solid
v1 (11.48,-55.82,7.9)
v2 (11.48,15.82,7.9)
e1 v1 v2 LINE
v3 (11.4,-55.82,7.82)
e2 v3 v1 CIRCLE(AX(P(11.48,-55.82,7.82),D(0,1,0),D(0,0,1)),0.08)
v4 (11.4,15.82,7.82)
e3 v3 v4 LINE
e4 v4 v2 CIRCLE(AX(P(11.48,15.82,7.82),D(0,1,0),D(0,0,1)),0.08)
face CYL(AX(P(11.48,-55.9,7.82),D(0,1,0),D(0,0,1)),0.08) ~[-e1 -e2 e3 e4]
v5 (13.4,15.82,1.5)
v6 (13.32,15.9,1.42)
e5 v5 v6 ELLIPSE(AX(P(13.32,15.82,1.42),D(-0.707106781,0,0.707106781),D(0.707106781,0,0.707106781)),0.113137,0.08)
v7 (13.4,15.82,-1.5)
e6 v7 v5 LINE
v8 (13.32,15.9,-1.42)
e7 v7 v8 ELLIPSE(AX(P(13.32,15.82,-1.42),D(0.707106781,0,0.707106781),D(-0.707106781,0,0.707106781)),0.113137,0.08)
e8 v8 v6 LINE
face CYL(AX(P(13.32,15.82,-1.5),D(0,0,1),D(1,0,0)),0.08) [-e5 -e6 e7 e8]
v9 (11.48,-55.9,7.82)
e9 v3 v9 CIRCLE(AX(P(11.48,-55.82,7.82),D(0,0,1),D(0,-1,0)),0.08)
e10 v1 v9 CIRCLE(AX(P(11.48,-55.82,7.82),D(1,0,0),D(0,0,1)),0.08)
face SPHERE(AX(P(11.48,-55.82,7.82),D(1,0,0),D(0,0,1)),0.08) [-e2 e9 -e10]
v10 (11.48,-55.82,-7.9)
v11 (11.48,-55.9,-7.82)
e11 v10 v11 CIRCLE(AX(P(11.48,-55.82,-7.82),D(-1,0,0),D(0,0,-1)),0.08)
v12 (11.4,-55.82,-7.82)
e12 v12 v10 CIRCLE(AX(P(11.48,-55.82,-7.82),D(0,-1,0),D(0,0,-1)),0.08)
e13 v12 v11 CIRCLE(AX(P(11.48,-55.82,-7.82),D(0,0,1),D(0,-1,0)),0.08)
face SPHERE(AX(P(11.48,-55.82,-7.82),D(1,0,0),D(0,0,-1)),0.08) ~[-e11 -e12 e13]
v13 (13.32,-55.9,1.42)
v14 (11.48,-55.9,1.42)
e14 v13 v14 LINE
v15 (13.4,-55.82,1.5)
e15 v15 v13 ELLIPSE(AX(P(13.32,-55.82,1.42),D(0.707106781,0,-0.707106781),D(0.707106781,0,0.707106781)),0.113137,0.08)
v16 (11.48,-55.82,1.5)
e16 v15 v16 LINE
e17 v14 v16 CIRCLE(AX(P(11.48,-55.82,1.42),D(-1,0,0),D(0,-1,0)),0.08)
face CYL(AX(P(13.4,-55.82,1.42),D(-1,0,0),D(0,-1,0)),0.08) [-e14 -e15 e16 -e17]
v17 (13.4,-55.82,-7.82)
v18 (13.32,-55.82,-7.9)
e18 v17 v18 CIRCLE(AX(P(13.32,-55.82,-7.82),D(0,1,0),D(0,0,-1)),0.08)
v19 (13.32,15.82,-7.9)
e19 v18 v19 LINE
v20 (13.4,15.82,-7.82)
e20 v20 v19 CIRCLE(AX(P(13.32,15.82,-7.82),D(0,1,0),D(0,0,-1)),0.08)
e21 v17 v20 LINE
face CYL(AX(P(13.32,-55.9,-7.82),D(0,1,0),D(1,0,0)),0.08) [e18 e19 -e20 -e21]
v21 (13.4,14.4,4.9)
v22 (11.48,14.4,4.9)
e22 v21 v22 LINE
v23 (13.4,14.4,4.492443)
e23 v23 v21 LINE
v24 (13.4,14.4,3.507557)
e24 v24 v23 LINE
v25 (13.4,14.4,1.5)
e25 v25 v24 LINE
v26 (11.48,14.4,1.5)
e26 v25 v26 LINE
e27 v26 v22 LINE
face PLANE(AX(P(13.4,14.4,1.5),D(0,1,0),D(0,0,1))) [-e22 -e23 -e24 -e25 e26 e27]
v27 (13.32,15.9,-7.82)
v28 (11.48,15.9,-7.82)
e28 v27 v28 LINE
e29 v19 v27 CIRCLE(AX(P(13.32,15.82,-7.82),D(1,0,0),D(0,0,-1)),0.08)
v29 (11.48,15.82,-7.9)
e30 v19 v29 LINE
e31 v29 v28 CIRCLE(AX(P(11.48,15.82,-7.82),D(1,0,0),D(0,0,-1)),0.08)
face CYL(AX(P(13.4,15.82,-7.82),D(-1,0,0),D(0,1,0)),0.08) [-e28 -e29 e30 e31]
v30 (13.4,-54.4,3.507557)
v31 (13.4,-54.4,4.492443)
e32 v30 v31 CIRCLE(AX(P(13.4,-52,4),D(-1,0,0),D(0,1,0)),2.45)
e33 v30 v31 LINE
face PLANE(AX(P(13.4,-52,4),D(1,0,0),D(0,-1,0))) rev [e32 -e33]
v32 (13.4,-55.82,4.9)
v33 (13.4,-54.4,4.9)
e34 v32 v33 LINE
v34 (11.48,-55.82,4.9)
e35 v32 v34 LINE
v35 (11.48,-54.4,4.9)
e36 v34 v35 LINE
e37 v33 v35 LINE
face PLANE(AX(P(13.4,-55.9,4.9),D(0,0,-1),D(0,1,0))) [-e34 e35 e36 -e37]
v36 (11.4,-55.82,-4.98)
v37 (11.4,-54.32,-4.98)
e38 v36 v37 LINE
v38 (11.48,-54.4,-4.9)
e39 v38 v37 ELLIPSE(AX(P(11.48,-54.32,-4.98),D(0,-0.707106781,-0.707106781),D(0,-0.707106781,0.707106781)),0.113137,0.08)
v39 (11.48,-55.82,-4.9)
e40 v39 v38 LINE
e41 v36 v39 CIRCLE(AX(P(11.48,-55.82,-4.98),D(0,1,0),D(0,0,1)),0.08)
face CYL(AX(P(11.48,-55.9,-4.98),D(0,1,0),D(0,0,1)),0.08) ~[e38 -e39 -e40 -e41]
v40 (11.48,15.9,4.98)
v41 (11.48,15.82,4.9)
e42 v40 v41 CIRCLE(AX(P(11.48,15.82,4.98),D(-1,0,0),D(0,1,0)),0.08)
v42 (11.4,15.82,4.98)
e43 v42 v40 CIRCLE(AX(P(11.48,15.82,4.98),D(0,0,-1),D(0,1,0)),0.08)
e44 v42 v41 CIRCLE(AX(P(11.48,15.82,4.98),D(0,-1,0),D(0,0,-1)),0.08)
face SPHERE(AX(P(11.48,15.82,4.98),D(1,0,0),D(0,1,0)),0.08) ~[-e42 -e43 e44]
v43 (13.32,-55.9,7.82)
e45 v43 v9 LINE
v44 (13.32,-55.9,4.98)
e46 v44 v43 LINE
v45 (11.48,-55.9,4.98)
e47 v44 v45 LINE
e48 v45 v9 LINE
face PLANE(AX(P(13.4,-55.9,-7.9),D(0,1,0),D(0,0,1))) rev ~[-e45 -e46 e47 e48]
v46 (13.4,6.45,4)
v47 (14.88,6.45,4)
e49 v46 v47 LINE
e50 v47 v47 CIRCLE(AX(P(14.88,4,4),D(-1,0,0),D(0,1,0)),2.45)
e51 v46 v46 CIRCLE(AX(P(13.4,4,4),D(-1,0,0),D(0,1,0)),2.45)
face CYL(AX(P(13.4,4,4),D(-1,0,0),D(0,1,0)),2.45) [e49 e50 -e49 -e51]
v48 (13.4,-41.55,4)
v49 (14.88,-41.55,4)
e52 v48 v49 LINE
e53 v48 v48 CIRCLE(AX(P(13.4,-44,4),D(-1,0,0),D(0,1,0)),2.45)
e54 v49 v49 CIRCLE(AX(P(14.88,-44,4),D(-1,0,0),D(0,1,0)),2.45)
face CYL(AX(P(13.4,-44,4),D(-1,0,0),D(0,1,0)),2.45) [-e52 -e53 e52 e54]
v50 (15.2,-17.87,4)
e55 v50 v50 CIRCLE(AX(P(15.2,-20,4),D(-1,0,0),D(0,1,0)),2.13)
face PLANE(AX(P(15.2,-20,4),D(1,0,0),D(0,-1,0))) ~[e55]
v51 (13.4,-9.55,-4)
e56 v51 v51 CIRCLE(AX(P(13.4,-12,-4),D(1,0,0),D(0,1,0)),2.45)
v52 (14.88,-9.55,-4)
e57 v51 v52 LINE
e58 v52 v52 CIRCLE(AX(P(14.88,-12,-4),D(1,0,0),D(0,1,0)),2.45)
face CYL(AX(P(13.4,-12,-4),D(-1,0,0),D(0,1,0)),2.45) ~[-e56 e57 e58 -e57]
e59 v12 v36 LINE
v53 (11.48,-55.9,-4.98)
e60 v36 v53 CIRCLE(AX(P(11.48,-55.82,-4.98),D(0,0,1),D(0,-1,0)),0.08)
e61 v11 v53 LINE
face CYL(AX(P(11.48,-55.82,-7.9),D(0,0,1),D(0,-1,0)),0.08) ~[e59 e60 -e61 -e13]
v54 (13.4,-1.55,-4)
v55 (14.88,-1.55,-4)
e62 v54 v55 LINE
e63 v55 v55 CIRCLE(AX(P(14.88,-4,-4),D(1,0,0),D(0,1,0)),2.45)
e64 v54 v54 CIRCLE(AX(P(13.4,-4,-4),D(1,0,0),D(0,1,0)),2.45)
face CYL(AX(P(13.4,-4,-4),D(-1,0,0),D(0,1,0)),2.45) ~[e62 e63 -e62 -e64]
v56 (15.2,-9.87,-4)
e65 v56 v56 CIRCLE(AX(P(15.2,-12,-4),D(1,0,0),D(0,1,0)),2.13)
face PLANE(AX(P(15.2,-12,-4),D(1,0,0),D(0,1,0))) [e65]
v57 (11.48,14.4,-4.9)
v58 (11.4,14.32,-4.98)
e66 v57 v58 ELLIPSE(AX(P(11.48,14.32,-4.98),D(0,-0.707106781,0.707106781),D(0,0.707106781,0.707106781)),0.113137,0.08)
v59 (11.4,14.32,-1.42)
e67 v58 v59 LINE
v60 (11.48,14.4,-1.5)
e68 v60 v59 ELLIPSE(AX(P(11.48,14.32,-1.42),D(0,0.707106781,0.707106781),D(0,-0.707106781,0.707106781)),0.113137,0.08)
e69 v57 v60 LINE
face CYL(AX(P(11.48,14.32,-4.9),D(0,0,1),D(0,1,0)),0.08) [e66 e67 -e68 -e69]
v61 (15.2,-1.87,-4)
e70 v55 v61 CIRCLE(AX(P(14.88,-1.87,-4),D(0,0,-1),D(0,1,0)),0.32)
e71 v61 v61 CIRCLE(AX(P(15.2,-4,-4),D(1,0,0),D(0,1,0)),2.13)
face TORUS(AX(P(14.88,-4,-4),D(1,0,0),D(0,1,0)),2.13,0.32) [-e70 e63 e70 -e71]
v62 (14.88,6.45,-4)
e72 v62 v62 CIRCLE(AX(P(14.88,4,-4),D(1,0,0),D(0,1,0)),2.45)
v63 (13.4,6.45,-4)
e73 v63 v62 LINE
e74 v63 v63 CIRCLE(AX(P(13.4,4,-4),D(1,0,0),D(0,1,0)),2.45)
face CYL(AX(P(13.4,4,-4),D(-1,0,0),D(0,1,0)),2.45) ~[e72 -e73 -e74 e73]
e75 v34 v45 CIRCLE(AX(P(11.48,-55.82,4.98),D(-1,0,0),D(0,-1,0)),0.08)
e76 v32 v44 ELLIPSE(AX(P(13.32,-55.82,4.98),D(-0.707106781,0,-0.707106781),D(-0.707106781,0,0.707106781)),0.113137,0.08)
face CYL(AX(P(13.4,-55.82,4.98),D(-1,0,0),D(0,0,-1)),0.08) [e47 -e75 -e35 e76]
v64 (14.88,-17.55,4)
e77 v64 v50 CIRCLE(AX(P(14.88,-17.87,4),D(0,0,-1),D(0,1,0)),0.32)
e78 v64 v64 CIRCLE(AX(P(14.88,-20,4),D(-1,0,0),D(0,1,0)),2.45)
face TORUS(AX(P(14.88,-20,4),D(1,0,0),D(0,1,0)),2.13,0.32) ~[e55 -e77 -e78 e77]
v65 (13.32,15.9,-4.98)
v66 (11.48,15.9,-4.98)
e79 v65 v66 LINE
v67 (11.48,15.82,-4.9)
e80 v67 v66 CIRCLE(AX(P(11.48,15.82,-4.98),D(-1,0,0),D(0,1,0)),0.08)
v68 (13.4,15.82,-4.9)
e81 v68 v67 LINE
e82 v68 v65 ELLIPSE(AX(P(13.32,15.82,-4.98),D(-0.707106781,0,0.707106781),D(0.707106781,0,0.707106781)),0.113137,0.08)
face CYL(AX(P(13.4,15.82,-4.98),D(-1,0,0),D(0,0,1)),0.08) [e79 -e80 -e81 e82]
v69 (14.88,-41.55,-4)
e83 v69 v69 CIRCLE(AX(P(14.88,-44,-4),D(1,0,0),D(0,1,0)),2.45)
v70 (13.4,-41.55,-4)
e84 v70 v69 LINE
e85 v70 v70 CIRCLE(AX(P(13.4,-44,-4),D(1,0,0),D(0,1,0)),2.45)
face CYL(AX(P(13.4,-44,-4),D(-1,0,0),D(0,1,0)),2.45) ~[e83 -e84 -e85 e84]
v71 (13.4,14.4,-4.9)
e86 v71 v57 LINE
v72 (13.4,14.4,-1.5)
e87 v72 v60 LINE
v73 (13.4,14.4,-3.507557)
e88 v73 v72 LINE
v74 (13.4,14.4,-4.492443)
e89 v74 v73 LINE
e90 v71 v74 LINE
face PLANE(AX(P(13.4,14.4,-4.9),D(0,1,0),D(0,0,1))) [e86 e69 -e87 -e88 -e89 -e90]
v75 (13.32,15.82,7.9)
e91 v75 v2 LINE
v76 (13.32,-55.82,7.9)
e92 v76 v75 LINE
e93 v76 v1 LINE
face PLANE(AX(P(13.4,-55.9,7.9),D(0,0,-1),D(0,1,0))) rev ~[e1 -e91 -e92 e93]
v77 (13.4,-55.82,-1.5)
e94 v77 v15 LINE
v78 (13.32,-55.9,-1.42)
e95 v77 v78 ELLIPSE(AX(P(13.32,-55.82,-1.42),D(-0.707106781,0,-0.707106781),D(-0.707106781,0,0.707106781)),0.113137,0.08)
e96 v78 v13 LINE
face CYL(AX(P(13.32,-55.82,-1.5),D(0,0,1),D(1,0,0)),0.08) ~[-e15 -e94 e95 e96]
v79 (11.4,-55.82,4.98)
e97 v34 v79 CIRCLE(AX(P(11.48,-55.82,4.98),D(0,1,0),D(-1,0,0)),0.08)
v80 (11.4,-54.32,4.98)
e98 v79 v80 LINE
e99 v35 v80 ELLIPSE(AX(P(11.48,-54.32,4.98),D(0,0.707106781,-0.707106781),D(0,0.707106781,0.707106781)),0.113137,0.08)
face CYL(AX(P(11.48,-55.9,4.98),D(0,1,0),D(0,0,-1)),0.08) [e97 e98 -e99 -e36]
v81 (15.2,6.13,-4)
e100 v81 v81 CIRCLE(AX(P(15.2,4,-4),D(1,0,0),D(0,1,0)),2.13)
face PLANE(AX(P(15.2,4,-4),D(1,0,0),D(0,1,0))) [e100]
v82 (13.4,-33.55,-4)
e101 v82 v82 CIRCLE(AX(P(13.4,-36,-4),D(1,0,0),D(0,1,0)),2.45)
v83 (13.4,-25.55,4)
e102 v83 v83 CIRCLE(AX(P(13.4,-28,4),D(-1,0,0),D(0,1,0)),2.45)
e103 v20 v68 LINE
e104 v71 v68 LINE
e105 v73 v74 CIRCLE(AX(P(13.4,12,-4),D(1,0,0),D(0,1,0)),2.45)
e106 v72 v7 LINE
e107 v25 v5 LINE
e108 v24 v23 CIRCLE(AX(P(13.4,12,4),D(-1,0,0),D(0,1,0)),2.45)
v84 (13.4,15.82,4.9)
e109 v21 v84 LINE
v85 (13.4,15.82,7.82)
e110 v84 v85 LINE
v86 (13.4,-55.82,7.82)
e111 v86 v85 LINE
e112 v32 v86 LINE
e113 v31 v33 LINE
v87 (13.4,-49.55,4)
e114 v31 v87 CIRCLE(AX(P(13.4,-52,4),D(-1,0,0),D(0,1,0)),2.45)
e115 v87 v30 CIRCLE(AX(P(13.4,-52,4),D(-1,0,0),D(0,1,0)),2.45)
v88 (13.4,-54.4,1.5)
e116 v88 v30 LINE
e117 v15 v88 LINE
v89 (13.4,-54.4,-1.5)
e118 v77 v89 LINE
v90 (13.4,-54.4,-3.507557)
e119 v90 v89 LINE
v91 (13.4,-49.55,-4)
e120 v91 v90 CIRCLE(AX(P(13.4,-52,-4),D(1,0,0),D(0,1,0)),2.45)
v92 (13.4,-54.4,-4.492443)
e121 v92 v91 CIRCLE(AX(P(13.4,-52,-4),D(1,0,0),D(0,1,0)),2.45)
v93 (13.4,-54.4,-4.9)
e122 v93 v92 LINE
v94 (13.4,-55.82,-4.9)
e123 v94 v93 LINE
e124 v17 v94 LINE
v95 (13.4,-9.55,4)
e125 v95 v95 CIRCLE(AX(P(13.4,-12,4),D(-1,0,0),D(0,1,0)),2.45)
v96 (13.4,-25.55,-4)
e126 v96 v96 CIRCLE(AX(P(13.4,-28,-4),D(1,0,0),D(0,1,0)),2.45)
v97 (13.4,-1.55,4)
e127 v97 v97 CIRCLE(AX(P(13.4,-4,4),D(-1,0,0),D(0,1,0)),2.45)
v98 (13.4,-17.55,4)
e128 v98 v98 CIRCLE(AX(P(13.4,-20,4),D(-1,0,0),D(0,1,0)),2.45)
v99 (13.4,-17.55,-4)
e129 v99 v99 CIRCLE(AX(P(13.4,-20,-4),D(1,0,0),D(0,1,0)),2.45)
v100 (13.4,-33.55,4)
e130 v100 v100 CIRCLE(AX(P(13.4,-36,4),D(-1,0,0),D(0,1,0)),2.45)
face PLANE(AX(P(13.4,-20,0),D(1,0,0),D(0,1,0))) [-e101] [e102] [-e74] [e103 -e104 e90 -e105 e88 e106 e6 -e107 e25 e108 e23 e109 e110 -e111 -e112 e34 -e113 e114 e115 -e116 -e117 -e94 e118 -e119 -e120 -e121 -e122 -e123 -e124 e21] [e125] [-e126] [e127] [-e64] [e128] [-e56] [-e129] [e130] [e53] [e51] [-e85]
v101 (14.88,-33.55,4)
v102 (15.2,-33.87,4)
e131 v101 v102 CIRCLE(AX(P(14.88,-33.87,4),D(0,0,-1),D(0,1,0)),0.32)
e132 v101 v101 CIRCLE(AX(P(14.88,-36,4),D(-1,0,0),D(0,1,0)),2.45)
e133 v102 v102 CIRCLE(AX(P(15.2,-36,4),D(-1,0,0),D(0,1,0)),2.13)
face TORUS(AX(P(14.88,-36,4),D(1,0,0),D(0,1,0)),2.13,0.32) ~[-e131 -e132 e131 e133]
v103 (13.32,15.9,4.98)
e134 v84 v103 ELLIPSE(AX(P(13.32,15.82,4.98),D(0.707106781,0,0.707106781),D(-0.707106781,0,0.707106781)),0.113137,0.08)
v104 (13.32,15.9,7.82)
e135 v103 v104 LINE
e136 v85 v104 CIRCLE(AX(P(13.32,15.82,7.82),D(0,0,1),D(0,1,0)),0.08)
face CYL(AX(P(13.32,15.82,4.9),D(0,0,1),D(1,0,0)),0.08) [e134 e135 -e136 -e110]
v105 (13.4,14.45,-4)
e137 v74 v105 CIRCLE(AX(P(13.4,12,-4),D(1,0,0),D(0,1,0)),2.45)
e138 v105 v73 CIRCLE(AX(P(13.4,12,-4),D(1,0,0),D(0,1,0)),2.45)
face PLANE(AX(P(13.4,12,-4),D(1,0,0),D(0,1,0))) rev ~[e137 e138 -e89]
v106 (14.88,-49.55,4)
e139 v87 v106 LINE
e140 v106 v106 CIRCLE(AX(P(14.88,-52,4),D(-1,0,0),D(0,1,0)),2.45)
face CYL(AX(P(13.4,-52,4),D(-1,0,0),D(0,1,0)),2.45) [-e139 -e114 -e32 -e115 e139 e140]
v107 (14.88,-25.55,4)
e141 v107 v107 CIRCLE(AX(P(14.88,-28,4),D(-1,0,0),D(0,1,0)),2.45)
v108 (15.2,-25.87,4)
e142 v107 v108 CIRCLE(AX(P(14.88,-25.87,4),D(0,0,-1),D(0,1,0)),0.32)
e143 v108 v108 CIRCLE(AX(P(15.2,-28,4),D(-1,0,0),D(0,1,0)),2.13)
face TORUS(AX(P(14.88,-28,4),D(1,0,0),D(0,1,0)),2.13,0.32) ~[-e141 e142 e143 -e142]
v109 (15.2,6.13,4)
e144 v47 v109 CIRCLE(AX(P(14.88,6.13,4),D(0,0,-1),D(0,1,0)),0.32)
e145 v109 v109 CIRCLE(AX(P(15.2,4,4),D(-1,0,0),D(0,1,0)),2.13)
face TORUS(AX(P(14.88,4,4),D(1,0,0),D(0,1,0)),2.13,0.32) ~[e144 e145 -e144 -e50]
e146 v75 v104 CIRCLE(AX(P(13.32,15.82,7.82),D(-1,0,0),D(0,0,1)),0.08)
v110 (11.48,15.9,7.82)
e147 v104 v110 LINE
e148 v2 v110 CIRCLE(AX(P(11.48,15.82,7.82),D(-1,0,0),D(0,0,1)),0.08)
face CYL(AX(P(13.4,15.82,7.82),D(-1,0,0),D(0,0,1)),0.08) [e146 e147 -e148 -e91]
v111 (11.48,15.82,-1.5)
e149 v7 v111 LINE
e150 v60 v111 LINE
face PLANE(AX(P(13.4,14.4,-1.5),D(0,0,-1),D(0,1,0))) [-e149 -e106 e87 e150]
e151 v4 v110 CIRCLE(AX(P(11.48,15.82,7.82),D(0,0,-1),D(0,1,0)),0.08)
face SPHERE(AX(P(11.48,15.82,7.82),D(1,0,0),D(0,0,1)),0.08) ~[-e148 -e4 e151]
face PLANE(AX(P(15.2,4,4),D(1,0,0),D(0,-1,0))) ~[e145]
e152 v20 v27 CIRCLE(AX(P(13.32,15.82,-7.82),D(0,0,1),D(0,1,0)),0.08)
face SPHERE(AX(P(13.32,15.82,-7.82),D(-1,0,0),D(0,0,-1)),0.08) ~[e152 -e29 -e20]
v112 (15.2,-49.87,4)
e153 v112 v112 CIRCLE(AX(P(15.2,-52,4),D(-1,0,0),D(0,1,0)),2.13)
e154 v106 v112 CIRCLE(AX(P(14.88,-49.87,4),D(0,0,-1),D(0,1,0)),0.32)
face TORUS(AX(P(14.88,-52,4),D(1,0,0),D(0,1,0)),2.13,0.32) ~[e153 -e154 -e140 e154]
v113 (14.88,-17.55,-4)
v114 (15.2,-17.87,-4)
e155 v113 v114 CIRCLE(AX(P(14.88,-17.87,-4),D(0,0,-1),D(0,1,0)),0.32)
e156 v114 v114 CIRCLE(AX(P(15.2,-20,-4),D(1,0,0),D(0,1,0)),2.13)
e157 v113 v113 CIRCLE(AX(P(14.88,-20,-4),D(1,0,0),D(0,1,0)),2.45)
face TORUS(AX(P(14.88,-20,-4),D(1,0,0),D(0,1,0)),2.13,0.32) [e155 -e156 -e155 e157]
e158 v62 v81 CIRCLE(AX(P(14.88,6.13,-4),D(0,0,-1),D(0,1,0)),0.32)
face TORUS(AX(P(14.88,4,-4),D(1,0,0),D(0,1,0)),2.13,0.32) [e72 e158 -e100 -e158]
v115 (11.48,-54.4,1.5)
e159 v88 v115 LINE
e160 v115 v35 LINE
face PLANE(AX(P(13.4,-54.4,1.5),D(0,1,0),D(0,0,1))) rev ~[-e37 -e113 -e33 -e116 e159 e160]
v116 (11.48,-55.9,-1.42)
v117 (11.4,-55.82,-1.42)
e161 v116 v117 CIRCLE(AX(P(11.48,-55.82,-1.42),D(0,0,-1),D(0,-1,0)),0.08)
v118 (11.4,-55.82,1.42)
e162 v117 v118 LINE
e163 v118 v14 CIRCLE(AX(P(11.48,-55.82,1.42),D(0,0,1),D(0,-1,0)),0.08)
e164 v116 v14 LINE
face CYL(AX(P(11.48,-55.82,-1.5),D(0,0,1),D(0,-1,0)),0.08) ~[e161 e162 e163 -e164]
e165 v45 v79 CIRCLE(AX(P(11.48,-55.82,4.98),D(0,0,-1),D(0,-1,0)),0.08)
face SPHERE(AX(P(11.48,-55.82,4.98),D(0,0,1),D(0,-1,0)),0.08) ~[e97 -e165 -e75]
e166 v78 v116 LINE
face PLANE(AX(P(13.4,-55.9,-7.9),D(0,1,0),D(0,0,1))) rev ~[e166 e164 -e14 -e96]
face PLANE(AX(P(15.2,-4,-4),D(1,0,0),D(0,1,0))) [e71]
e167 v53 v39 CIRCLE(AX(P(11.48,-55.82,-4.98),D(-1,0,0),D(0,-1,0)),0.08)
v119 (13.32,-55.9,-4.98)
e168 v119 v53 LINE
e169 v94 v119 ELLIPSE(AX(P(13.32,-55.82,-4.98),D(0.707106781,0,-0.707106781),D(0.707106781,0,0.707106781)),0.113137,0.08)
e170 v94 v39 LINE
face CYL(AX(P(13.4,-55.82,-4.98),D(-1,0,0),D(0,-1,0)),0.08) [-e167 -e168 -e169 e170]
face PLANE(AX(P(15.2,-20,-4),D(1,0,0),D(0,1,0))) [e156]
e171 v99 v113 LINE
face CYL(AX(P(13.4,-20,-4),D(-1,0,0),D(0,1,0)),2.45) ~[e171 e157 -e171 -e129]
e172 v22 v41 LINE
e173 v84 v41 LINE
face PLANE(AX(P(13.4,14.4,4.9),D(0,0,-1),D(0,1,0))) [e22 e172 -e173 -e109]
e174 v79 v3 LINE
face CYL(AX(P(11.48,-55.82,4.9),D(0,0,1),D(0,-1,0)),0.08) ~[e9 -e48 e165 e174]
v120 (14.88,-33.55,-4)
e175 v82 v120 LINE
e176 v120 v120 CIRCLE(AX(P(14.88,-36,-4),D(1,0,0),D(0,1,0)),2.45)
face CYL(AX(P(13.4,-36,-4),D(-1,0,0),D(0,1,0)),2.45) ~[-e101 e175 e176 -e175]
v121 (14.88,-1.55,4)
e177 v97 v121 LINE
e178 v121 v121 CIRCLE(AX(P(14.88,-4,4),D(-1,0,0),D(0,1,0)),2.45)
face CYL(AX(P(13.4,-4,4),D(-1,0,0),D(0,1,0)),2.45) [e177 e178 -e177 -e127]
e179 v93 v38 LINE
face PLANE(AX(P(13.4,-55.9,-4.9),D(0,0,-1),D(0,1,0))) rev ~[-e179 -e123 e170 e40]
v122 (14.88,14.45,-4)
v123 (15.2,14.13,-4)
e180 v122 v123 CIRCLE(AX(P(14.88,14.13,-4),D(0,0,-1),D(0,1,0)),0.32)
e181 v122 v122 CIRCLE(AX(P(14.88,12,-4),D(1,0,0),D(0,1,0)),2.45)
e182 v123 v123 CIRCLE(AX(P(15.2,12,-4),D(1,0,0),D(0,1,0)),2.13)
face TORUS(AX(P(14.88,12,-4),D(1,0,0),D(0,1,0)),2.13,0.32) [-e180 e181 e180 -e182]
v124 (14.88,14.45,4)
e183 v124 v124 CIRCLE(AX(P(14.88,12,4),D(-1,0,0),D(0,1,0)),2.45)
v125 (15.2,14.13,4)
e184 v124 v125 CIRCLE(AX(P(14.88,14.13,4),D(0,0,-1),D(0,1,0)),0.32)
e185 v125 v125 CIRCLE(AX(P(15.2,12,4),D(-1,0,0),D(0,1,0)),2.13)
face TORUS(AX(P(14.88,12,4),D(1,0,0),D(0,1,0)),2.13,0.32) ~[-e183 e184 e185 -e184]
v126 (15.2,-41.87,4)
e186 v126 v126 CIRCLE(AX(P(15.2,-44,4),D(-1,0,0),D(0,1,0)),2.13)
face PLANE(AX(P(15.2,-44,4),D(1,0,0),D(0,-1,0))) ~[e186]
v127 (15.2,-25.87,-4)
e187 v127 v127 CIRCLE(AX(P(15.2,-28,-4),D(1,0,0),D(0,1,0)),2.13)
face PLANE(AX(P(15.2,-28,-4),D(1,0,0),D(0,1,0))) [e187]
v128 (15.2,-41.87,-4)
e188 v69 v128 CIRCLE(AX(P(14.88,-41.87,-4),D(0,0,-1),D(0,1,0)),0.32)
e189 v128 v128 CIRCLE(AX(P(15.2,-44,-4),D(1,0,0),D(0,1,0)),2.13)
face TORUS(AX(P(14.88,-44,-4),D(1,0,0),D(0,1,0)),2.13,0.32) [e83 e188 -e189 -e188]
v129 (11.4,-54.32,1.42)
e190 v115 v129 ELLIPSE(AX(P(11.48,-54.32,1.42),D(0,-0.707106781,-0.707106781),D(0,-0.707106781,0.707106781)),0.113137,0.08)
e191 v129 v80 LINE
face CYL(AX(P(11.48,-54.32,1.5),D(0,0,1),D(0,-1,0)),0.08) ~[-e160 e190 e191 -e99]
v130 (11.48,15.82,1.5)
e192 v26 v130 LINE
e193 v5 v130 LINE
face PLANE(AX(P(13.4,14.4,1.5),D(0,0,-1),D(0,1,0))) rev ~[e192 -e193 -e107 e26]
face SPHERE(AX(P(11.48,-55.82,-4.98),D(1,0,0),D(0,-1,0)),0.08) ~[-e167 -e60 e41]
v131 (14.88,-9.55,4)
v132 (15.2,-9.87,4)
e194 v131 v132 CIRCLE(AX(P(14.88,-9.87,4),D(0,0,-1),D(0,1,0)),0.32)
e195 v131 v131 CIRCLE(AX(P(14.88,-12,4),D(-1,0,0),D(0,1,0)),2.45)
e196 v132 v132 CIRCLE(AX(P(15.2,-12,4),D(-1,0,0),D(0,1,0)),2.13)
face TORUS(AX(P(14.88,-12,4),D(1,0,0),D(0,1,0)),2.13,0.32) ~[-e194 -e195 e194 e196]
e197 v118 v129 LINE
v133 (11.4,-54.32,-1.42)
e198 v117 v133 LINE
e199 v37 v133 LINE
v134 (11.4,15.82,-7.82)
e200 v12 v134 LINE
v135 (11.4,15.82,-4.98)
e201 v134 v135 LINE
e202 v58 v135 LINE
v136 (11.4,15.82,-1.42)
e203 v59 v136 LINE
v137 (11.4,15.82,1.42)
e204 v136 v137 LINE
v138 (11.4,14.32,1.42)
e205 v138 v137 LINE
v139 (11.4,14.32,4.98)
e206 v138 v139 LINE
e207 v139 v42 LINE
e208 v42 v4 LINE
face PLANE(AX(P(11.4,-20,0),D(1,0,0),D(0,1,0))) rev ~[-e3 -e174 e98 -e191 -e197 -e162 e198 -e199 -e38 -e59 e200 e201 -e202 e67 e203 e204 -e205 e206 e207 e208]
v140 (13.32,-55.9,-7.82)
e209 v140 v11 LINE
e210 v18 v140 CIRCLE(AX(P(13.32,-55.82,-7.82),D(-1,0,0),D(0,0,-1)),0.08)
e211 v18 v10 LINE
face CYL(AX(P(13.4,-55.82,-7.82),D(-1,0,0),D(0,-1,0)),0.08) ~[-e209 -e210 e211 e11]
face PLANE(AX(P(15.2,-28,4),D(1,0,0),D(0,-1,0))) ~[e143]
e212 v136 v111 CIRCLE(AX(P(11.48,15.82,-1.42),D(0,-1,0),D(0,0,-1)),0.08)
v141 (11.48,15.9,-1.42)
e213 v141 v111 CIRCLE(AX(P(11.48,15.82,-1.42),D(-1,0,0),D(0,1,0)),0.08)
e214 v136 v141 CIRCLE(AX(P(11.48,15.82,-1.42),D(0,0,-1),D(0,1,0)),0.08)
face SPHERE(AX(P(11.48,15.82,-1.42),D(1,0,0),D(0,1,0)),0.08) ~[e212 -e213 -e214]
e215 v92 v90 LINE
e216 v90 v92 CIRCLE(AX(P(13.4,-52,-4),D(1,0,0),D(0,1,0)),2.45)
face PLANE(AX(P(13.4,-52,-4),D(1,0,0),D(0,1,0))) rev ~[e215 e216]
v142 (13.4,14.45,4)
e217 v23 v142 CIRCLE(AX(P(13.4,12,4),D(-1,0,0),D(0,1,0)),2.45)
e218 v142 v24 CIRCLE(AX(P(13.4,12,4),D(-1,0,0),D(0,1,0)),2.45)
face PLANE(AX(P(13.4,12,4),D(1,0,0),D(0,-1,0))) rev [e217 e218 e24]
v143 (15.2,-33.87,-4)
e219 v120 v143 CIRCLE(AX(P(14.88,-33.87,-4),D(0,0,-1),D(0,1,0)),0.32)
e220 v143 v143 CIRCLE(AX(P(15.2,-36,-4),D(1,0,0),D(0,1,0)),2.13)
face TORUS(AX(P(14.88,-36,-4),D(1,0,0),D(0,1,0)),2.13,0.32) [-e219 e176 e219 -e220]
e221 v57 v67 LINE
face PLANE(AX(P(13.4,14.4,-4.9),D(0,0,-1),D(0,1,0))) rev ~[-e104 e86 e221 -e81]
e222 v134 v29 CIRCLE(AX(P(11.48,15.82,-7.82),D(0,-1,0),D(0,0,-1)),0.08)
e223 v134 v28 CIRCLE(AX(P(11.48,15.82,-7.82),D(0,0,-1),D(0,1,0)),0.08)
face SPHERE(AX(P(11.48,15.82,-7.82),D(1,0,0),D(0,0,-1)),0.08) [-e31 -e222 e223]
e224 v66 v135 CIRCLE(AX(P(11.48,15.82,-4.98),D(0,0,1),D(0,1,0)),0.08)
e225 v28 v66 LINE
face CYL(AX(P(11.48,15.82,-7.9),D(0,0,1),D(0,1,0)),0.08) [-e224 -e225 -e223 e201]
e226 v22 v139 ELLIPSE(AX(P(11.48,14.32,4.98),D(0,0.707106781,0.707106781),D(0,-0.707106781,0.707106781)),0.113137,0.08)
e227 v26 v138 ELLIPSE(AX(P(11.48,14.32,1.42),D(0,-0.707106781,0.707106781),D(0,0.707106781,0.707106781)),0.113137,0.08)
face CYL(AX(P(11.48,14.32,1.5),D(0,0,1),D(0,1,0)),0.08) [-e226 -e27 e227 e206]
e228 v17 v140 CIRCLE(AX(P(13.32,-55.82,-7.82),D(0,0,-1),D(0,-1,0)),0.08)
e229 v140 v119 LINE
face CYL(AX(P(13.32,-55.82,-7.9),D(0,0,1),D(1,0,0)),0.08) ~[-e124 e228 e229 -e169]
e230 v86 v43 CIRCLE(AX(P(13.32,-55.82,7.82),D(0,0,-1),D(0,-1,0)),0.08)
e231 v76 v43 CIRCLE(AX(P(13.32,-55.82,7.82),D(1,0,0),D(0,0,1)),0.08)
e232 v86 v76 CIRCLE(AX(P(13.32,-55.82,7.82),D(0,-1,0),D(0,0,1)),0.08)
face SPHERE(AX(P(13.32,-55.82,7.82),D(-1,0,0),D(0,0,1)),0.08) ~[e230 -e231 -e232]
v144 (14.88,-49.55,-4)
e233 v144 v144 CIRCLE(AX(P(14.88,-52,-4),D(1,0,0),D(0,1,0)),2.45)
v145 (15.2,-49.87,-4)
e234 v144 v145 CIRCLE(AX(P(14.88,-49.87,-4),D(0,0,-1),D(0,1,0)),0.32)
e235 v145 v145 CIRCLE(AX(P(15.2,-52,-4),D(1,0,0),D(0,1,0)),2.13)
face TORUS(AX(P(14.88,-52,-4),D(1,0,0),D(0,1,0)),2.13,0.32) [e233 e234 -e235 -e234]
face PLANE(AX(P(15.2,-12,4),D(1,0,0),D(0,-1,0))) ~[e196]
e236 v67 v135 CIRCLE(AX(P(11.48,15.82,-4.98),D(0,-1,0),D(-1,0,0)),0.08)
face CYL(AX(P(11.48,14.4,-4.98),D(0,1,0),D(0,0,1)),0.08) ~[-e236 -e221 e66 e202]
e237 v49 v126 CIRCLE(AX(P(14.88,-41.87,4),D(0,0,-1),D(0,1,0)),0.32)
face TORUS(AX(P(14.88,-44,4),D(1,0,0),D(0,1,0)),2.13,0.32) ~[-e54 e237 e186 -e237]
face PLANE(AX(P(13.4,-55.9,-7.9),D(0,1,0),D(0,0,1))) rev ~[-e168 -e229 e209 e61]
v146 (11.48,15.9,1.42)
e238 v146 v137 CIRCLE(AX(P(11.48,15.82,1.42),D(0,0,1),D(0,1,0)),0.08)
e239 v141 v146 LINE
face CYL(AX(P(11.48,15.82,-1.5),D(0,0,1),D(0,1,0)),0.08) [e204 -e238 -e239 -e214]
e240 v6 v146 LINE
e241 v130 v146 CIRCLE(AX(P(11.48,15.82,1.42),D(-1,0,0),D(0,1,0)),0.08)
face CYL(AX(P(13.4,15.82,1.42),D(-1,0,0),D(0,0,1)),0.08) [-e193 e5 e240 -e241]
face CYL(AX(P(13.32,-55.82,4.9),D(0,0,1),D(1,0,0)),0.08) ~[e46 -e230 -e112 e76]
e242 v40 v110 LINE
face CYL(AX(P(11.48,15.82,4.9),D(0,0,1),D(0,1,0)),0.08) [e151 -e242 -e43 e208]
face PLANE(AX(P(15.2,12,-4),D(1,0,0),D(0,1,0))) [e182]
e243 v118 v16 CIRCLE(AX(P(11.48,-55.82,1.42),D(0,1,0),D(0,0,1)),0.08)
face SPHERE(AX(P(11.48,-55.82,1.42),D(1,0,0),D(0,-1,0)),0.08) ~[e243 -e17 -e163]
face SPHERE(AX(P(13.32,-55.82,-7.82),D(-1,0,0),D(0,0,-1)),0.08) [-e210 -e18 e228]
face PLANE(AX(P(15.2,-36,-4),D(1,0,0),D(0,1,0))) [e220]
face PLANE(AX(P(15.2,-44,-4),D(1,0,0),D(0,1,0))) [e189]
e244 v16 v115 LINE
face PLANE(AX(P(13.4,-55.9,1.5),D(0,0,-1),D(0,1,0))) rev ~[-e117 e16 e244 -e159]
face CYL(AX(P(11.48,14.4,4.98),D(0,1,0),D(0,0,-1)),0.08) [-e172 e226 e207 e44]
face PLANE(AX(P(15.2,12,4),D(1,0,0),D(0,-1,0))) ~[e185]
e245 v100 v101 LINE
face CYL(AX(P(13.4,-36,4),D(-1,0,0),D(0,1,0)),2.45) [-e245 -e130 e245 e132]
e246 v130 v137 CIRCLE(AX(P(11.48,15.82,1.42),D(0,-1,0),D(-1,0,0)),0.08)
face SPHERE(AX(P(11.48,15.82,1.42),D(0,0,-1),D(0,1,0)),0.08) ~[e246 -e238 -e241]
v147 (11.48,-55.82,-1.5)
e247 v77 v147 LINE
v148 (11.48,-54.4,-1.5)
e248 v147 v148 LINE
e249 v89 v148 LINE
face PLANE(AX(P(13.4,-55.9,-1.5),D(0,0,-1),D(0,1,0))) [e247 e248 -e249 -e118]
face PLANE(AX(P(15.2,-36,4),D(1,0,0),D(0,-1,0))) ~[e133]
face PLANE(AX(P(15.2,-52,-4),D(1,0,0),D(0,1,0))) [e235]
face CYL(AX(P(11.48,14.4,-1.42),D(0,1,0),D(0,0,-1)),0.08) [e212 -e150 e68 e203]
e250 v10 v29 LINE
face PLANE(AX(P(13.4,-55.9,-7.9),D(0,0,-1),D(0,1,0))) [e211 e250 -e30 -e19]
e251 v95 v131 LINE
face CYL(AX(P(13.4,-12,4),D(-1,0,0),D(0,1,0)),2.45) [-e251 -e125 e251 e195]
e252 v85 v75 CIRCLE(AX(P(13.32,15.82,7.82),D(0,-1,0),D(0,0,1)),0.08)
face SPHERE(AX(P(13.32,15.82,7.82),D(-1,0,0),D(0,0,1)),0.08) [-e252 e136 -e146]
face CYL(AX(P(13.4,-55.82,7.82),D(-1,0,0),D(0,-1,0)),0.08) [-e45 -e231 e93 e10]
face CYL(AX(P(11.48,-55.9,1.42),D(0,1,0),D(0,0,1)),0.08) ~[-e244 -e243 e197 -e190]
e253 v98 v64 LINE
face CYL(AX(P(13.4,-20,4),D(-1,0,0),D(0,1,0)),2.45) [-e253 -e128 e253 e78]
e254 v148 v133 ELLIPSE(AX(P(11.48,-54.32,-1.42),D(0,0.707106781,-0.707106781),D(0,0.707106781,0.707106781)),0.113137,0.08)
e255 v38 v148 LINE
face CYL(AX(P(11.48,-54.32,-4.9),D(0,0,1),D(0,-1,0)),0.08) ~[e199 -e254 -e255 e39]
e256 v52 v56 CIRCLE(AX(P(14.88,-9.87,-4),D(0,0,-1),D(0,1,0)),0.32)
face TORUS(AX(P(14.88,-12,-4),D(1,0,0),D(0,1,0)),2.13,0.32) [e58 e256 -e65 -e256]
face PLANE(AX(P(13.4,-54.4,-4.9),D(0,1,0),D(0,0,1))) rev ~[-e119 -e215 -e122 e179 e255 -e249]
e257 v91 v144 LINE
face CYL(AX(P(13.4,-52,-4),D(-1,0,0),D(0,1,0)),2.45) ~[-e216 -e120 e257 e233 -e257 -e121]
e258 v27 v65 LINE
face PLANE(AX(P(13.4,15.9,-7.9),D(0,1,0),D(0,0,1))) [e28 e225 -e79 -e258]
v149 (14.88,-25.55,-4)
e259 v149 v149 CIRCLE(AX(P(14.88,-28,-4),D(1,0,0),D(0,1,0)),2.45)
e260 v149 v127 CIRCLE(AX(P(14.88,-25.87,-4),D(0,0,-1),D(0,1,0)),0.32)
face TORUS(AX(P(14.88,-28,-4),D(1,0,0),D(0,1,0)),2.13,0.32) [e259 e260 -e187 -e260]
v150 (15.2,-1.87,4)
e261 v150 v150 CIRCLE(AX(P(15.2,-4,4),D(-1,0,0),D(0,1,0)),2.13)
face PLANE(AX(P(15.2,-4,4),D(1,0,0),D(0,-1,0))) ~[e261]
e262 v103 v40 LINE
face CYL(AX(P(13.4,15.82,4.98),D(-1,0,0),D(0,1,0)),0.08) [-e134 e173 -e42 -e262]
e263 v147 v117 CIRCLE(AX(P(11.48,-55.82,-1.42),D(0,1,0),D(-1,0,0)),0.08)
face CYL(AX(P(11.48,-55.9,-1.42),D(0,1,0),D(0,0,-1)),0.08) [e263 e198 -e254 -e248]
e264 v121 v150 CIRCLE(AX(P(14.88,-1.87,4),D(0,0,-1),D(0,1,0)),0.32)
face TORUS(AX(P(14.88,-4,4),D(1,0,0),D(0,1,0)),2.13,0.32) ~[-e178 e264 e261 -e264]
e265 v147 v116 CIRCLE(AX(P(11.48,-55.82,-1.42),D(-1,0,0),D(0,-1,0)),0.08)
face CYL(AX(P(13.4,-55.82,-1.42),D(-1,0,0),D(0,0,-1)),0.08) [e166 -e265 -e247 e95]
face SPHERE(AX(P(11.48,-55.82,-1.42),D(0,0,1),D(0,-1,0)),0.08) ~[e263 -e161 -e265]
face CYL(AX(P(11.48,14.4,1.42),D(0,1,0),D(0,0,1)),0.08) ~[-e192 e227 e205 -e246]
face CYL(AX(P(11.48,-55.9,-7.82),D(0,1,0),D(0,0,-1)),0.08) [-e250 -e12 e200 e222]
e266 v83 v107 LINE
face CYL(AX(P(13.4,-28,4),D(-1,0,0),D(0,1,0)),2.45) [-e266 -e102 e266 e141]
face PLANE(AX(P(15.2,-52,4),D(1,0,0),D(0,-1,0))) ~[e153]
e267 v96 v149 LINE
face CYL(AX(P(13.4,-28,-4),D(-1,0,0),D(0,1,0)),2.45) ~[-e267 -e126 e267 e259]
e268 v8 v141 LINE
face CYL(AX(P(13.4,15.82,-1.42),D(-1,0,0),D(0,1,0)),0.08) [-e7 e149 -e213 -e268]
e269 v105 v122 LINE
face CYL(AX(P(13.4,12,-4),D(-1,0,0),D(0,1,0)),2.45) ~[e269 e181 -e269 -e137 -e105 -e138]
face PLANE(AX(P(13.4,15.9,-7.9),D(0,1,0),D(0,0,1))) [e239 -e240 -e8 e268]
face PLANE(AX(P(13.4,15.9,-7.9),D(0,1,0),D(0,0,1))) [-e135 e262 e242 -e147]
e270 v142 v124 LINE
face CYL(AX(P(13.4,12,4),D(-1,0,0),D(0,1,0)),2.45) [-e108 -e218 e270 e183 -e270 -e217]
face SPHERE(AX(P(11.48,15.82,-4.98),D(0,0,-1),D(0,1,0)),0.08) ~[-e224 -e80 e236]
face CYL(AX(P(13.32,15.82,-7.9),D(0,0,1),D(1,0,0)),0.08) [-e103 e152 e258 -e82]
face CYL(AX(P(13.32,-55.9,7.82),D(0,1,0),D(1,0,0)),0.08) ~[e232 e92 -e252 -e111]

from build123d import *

# Parameters (mm, degrees)
SKETCH001_W                     = 71.8
SKETCH001_H                     = 15.8
PAD001_DEPTH                    = 2
SKETCH002_W                     = 1.5
SKETCH002_H                     = 3.4
POCKET_DEPTH                    = 5
LINEARPATTERN001_COUNT          = 2
LINEARPATTERN001_PITCH          = 70.3
SKETCH003_R                     = 2.45
PAD002_DEPTH                    = 1.8
SKETCH003_LINEARPATTERN002_2_R  = 2.45
PAD002_LINEARPATTERN002_2_DEPTH = 1.8
SKETCH003_LINEARPATTERN002_3_R  = 2.45
PAD002_LINEARPATTERN002_3_DEPTH = 1.8
SKETCH003_LINEARPATTERN002_4_R  = 2.45
PAD002_LINEARPATTERN002_4_DEPTH = 1.8
SKETCH003_LINEARPATTERN002_5_R  = 2.45
PAD002_LINEARPATTERN002_5_DEPTH = 1.8
SKETCH003_LINEARPATTERN002_6_R  = 2.45
PAD002_LINEARPATTERN002_6_DEPTH = 1.8
SKETCH003_LINEARPATTERN002_7_R  = 2.45
PAD002_LINEARPATTERN002_7_DEPTH = 1.8
SKETCH003_LINEARPATTERN002_8_R  = 2.45
PAD002_LINEARPATTERN002_8_DEPTH = 1.8
SKETCH003_LINEARPATTERN002_9_R  = 2.45
PAD002_LINEARPATTERN002_9_DEPTH = 1.8
FILLET_R                        = 0.32
FILLET008_R                     = 0.08


with BuildPart() as part:
    # Sketch001 → Pad001 (new body)
    with BuildSketch(Plane.YZ):
        with Locations((-20, 0)):
            Rectangle(SKETCH001_W, SKETCH001_H)
    extrude(amount=-PAD001_DEPTH)

    # Sketch002 (on Face5 of Pad001) → Pocket (cut)
    with BuildSketch(Plane.YZ):
        with Locations((15.15, 3.2)):
            Rectangle(SKETCH002_W, SKETCH002_H)
        with Locations((15.15, -3.2)):
            Rectangle(SKETCH002_W, SKETCH002_H)
    pocket = extrude(amount=-POCKET_DEPTH, mode=Mode.SUBTRACT)

    # LinearPattern001: Pocket ×2
    with Locations(*[(0, -i * LINEARPATTERN001_PITCH, 0) for i in range(1, LINEARPATTERN001_COUNT)]):
        add(pocket, mode=Mode.SUBTRACT)

    # Sketch003 (on Face4 of LinearPattern001) → Pad002 (join)
    with BuildSketch(Plane.YZ):
        with Locations((12, -4)):
            Circle(SKETCH003_R)
    pad002 = extrude(amount=PAD002_DEPTH)

    # Sketch003 LinearPattern002 2 → Pad002 LinearPattern002 2 (add)
    with BuildSketch(Plane(origin=(0, -8, 0), x_dir=(0, 1, 0), z_dir=(1, 0, 0))):
        with Locations((12, -4)):
            Circle(SKETCH003_LINEARPATTERN002_2_R)
    pad002_linearpattern002_2 = extrude(amount=PAD002_LINEARPATTERN002_2_DEPTH)

    # Sketch003 LinearPattern002 3 → Pad002 LinearPattern002 3 (add)
    with BuildSketch(Plane(origin=(0, -16, 0), x_dir=(0, 1, 0), z_dir=(1, 0, 0))):
        with Locations((12, -4)):
            Circle(SKETCH003_LINEARPATTERN002_3_R)
    pad002_linearpattern002_3 = extrude(amount=PAD002_LINEARPATTERN002_3_DEPTH)

    # Sketch003 LinearPattern002 4 → Pad002 LinearPattern002 4 (add)
    with BuildSketch(Plane(origin=(0, -24, 0), x_dir=(0, 1, 0), z_dir=(1, 0, 0))):
        with Locations((12, -4)):
            Circle(SKETCH003_LINEARPATTERN002_4_R)
    pad002_linearpattern002_4 = extrude(amount=PAD002_LINEARPATTERN002_4_DEPTH)

    # Sketch003 LinearPattern002 5 → Pad002 LinearPattern002 5 (add)
    with BuildSketch(Plane(origin=(0, -32, 0), x_dir=(0, 1, 0), z_dir=(1, 0, 0))):
        with Locations((12, -4)):
            Circle(SKETCH003_LINEARPATTERN002_5_R)
    pad002_linearpattern002_5 = extrude(amount=PAD002_LINEARPATTERN002_5_DEPTH)

    # Sketch003 LinearPattern002 6 → Pad002 LinearPattern002 6 (add)
    with BuildSketch(Plane(origin=(0, -40, 0), x_dir=(0, 1, 0), z_dir=(1, 0, 0))):
        with Locations((12, -4)):
            Circle(SKETCH003_LINEARPATTERN002_6_R)
    pad002_linearpattern002_6 = extrude(amount=PAD002_LINEARPATTERN002_6_DEPTH)

    # Sketch003 LinearPattern002 7 → Pad002 LinearPattern002 7 (add)
    with BuildSketch(Plane(origin=(0, -48, 0), x_dir=(0, 1, 0), z_dir=(1, 0, 0))):
        with Locations((12, -4)):
            Circle(SKETCH003_LINEARPATTERN002_7_R)
    pad002_linearpattern002_7 = extrude(amount=PAD002_LINEARPATTERN002_7_DEPTH)

    # Sketch003 LinearPattern002 8 → Pad002 LinearPattern002 8 (add)
    with BuildSketch(Plane(origin=(0, -56, 0), x_dir=(0, 1, 0), z_dir=(1, 0, 0))):
        with Locations((12, -4)):
            Circle(SKETCH003_LINEARPATTERN002_8_R)
    pad002_linearpattern002_8 = extrude(amount=PAD002_LINEARPATTERN002_8_DEPTH)

    # Sketch003 LinearPattern002 9 → Pad002 LinearPattern002 9 (add)
    with BuildSketch(Plane(origin=(0, -64, 0), x_dir=(0, 1, 0), z_dir=(1, 0, 0))):
        with Locations((12, -4)):
            Circle(SKETCH003_LINEARPATTERN002_9_R)
    pad002_linearpattern002_9 = extrude(amount=PAD002_LINEARPATTERN002_9_DEPTH)

    # Mirrored: Pad002, Pad002 LinearPattern002 2, Pad002 LinearPattern002 3, Pad002 LinearPattern002 4, Pad002 LinearPattern002 5, Pad002 LinearPattern002 6, Pad002 LinearPattern002 7, Pad002 LinearPattern002 8, Pad002 LinearPattern002 9 across Sketch003 H_Axis
    add(pad002.mirror(Plane.XY))
    add(pad002_linearpattern002_2.mirror(Plane.XY))
    add(pad002_linearpattern002_3.mirror(Plane.XY))
    add(pad002_linearpattern002_4.mirror(Plane.XY))
    add(pad002_linearpattern002_5.mirror(Plane.XY))
    add(pad002_linearpattern002_6.mirror(Plane.XY))
    add(pad002_linearpattern002_7.mirror(Plane.XY))
    add(pad002_linearpattern002_8.mirror(Plane.XY))
    add(pad002_linearpattern002_9.mirror(Plane.XY))

    # Fillet
    fillet_edges = [part.edges().sort_by_distance(p)[0] for p in [
        (1.8, -54.45, 4),
        (1.8, -54.45, -4),
        (1.8, -46.45, -4),
        (1.8, -46.45, 4),
        (1.8, -38.45, 4),
        (1.8, -38.45, -4),
        (1.8, -30.45, -4),
        (1.8, -30.45, 4),
        (1.8, -22.45, 4),
        (1.8, -22.45, -4),
        (1.8, -14.45, -4),
        (1.8, -14.45, 4),
        (1.8, -6.45, 4),
        (1.8, -6.45, -4),
        (1.8, 1.55, -4),
        (1.8, 1.55, 4),
        (1.8, 9.55, 4),
        (1.8, 9.55, -4),
    ]]
    fillet(fillet_edges, radius=FILLET_R)

    # Fillet008
    fillet008_edges = [part.edges().sort_by_distance(p)[0] for p in [
        (-1, -55.9, 7.9),
        (-1, 15.9, 7.9),
        (0, -20, 7.9),
        (-2, -20, 7.9),
        (-1, 15.9, -7.9),
        (-1, -55.9, -7.9),
        (0, -20, -7.9),
        (-2, -20, -7.9),
        (0, 15.9, -6.4),
        (-2, 15.9, -6.4),
        (-1, 15.9, -4.9),
        (0, 15.9, 0),
        (-1, 15.9, -1.5),
        (-2, 15.9, 0),
        (-1, 15.9, 1.5),
        (0, 15.9, 6.4),
        (-1, 15.9, 4.9),
        (-2, 15.9, 6.4),
        (0, -55.9, -6.4),
        (-1, -55.9, -4.9),
        (-2, -55.9, -6.4),
        (0, -55.9, 0),
        (-1, -55.9, 1.5),
        (-2, -55.9, 0),
        (-1, -55.9, -1.5),
        (0, -55.9, 6.4),
        (-2, -55.9, 6.4),
        (-1, -55.9, 4.9),
        (-2, 15.15, -4.9),
        (-2, 14.4, -3.2),
        (-2, 15.15, -1.5),
        (-2, 15.15, 1.5),
        (-2, 14.4, 3.2),
        (-2, 15.15, 4.9),
        (-2, -55.15, 4.9),
        (-2, -54.4, 3.2),
        (-2, -55.15, 1.5),
        (-2, -55.15, -1.5),
        (-2, -54.4, -3.2),
        (-2, -55.15, -4.9),
    ]]
    fillet(fillet008_edges, radius=FILLET008_R)


with BuildPart() as part_1:
    # Body001 placement: moved
    add(part.part.moved(Location((13.4, 0, 0))))


solid = part_1.part
